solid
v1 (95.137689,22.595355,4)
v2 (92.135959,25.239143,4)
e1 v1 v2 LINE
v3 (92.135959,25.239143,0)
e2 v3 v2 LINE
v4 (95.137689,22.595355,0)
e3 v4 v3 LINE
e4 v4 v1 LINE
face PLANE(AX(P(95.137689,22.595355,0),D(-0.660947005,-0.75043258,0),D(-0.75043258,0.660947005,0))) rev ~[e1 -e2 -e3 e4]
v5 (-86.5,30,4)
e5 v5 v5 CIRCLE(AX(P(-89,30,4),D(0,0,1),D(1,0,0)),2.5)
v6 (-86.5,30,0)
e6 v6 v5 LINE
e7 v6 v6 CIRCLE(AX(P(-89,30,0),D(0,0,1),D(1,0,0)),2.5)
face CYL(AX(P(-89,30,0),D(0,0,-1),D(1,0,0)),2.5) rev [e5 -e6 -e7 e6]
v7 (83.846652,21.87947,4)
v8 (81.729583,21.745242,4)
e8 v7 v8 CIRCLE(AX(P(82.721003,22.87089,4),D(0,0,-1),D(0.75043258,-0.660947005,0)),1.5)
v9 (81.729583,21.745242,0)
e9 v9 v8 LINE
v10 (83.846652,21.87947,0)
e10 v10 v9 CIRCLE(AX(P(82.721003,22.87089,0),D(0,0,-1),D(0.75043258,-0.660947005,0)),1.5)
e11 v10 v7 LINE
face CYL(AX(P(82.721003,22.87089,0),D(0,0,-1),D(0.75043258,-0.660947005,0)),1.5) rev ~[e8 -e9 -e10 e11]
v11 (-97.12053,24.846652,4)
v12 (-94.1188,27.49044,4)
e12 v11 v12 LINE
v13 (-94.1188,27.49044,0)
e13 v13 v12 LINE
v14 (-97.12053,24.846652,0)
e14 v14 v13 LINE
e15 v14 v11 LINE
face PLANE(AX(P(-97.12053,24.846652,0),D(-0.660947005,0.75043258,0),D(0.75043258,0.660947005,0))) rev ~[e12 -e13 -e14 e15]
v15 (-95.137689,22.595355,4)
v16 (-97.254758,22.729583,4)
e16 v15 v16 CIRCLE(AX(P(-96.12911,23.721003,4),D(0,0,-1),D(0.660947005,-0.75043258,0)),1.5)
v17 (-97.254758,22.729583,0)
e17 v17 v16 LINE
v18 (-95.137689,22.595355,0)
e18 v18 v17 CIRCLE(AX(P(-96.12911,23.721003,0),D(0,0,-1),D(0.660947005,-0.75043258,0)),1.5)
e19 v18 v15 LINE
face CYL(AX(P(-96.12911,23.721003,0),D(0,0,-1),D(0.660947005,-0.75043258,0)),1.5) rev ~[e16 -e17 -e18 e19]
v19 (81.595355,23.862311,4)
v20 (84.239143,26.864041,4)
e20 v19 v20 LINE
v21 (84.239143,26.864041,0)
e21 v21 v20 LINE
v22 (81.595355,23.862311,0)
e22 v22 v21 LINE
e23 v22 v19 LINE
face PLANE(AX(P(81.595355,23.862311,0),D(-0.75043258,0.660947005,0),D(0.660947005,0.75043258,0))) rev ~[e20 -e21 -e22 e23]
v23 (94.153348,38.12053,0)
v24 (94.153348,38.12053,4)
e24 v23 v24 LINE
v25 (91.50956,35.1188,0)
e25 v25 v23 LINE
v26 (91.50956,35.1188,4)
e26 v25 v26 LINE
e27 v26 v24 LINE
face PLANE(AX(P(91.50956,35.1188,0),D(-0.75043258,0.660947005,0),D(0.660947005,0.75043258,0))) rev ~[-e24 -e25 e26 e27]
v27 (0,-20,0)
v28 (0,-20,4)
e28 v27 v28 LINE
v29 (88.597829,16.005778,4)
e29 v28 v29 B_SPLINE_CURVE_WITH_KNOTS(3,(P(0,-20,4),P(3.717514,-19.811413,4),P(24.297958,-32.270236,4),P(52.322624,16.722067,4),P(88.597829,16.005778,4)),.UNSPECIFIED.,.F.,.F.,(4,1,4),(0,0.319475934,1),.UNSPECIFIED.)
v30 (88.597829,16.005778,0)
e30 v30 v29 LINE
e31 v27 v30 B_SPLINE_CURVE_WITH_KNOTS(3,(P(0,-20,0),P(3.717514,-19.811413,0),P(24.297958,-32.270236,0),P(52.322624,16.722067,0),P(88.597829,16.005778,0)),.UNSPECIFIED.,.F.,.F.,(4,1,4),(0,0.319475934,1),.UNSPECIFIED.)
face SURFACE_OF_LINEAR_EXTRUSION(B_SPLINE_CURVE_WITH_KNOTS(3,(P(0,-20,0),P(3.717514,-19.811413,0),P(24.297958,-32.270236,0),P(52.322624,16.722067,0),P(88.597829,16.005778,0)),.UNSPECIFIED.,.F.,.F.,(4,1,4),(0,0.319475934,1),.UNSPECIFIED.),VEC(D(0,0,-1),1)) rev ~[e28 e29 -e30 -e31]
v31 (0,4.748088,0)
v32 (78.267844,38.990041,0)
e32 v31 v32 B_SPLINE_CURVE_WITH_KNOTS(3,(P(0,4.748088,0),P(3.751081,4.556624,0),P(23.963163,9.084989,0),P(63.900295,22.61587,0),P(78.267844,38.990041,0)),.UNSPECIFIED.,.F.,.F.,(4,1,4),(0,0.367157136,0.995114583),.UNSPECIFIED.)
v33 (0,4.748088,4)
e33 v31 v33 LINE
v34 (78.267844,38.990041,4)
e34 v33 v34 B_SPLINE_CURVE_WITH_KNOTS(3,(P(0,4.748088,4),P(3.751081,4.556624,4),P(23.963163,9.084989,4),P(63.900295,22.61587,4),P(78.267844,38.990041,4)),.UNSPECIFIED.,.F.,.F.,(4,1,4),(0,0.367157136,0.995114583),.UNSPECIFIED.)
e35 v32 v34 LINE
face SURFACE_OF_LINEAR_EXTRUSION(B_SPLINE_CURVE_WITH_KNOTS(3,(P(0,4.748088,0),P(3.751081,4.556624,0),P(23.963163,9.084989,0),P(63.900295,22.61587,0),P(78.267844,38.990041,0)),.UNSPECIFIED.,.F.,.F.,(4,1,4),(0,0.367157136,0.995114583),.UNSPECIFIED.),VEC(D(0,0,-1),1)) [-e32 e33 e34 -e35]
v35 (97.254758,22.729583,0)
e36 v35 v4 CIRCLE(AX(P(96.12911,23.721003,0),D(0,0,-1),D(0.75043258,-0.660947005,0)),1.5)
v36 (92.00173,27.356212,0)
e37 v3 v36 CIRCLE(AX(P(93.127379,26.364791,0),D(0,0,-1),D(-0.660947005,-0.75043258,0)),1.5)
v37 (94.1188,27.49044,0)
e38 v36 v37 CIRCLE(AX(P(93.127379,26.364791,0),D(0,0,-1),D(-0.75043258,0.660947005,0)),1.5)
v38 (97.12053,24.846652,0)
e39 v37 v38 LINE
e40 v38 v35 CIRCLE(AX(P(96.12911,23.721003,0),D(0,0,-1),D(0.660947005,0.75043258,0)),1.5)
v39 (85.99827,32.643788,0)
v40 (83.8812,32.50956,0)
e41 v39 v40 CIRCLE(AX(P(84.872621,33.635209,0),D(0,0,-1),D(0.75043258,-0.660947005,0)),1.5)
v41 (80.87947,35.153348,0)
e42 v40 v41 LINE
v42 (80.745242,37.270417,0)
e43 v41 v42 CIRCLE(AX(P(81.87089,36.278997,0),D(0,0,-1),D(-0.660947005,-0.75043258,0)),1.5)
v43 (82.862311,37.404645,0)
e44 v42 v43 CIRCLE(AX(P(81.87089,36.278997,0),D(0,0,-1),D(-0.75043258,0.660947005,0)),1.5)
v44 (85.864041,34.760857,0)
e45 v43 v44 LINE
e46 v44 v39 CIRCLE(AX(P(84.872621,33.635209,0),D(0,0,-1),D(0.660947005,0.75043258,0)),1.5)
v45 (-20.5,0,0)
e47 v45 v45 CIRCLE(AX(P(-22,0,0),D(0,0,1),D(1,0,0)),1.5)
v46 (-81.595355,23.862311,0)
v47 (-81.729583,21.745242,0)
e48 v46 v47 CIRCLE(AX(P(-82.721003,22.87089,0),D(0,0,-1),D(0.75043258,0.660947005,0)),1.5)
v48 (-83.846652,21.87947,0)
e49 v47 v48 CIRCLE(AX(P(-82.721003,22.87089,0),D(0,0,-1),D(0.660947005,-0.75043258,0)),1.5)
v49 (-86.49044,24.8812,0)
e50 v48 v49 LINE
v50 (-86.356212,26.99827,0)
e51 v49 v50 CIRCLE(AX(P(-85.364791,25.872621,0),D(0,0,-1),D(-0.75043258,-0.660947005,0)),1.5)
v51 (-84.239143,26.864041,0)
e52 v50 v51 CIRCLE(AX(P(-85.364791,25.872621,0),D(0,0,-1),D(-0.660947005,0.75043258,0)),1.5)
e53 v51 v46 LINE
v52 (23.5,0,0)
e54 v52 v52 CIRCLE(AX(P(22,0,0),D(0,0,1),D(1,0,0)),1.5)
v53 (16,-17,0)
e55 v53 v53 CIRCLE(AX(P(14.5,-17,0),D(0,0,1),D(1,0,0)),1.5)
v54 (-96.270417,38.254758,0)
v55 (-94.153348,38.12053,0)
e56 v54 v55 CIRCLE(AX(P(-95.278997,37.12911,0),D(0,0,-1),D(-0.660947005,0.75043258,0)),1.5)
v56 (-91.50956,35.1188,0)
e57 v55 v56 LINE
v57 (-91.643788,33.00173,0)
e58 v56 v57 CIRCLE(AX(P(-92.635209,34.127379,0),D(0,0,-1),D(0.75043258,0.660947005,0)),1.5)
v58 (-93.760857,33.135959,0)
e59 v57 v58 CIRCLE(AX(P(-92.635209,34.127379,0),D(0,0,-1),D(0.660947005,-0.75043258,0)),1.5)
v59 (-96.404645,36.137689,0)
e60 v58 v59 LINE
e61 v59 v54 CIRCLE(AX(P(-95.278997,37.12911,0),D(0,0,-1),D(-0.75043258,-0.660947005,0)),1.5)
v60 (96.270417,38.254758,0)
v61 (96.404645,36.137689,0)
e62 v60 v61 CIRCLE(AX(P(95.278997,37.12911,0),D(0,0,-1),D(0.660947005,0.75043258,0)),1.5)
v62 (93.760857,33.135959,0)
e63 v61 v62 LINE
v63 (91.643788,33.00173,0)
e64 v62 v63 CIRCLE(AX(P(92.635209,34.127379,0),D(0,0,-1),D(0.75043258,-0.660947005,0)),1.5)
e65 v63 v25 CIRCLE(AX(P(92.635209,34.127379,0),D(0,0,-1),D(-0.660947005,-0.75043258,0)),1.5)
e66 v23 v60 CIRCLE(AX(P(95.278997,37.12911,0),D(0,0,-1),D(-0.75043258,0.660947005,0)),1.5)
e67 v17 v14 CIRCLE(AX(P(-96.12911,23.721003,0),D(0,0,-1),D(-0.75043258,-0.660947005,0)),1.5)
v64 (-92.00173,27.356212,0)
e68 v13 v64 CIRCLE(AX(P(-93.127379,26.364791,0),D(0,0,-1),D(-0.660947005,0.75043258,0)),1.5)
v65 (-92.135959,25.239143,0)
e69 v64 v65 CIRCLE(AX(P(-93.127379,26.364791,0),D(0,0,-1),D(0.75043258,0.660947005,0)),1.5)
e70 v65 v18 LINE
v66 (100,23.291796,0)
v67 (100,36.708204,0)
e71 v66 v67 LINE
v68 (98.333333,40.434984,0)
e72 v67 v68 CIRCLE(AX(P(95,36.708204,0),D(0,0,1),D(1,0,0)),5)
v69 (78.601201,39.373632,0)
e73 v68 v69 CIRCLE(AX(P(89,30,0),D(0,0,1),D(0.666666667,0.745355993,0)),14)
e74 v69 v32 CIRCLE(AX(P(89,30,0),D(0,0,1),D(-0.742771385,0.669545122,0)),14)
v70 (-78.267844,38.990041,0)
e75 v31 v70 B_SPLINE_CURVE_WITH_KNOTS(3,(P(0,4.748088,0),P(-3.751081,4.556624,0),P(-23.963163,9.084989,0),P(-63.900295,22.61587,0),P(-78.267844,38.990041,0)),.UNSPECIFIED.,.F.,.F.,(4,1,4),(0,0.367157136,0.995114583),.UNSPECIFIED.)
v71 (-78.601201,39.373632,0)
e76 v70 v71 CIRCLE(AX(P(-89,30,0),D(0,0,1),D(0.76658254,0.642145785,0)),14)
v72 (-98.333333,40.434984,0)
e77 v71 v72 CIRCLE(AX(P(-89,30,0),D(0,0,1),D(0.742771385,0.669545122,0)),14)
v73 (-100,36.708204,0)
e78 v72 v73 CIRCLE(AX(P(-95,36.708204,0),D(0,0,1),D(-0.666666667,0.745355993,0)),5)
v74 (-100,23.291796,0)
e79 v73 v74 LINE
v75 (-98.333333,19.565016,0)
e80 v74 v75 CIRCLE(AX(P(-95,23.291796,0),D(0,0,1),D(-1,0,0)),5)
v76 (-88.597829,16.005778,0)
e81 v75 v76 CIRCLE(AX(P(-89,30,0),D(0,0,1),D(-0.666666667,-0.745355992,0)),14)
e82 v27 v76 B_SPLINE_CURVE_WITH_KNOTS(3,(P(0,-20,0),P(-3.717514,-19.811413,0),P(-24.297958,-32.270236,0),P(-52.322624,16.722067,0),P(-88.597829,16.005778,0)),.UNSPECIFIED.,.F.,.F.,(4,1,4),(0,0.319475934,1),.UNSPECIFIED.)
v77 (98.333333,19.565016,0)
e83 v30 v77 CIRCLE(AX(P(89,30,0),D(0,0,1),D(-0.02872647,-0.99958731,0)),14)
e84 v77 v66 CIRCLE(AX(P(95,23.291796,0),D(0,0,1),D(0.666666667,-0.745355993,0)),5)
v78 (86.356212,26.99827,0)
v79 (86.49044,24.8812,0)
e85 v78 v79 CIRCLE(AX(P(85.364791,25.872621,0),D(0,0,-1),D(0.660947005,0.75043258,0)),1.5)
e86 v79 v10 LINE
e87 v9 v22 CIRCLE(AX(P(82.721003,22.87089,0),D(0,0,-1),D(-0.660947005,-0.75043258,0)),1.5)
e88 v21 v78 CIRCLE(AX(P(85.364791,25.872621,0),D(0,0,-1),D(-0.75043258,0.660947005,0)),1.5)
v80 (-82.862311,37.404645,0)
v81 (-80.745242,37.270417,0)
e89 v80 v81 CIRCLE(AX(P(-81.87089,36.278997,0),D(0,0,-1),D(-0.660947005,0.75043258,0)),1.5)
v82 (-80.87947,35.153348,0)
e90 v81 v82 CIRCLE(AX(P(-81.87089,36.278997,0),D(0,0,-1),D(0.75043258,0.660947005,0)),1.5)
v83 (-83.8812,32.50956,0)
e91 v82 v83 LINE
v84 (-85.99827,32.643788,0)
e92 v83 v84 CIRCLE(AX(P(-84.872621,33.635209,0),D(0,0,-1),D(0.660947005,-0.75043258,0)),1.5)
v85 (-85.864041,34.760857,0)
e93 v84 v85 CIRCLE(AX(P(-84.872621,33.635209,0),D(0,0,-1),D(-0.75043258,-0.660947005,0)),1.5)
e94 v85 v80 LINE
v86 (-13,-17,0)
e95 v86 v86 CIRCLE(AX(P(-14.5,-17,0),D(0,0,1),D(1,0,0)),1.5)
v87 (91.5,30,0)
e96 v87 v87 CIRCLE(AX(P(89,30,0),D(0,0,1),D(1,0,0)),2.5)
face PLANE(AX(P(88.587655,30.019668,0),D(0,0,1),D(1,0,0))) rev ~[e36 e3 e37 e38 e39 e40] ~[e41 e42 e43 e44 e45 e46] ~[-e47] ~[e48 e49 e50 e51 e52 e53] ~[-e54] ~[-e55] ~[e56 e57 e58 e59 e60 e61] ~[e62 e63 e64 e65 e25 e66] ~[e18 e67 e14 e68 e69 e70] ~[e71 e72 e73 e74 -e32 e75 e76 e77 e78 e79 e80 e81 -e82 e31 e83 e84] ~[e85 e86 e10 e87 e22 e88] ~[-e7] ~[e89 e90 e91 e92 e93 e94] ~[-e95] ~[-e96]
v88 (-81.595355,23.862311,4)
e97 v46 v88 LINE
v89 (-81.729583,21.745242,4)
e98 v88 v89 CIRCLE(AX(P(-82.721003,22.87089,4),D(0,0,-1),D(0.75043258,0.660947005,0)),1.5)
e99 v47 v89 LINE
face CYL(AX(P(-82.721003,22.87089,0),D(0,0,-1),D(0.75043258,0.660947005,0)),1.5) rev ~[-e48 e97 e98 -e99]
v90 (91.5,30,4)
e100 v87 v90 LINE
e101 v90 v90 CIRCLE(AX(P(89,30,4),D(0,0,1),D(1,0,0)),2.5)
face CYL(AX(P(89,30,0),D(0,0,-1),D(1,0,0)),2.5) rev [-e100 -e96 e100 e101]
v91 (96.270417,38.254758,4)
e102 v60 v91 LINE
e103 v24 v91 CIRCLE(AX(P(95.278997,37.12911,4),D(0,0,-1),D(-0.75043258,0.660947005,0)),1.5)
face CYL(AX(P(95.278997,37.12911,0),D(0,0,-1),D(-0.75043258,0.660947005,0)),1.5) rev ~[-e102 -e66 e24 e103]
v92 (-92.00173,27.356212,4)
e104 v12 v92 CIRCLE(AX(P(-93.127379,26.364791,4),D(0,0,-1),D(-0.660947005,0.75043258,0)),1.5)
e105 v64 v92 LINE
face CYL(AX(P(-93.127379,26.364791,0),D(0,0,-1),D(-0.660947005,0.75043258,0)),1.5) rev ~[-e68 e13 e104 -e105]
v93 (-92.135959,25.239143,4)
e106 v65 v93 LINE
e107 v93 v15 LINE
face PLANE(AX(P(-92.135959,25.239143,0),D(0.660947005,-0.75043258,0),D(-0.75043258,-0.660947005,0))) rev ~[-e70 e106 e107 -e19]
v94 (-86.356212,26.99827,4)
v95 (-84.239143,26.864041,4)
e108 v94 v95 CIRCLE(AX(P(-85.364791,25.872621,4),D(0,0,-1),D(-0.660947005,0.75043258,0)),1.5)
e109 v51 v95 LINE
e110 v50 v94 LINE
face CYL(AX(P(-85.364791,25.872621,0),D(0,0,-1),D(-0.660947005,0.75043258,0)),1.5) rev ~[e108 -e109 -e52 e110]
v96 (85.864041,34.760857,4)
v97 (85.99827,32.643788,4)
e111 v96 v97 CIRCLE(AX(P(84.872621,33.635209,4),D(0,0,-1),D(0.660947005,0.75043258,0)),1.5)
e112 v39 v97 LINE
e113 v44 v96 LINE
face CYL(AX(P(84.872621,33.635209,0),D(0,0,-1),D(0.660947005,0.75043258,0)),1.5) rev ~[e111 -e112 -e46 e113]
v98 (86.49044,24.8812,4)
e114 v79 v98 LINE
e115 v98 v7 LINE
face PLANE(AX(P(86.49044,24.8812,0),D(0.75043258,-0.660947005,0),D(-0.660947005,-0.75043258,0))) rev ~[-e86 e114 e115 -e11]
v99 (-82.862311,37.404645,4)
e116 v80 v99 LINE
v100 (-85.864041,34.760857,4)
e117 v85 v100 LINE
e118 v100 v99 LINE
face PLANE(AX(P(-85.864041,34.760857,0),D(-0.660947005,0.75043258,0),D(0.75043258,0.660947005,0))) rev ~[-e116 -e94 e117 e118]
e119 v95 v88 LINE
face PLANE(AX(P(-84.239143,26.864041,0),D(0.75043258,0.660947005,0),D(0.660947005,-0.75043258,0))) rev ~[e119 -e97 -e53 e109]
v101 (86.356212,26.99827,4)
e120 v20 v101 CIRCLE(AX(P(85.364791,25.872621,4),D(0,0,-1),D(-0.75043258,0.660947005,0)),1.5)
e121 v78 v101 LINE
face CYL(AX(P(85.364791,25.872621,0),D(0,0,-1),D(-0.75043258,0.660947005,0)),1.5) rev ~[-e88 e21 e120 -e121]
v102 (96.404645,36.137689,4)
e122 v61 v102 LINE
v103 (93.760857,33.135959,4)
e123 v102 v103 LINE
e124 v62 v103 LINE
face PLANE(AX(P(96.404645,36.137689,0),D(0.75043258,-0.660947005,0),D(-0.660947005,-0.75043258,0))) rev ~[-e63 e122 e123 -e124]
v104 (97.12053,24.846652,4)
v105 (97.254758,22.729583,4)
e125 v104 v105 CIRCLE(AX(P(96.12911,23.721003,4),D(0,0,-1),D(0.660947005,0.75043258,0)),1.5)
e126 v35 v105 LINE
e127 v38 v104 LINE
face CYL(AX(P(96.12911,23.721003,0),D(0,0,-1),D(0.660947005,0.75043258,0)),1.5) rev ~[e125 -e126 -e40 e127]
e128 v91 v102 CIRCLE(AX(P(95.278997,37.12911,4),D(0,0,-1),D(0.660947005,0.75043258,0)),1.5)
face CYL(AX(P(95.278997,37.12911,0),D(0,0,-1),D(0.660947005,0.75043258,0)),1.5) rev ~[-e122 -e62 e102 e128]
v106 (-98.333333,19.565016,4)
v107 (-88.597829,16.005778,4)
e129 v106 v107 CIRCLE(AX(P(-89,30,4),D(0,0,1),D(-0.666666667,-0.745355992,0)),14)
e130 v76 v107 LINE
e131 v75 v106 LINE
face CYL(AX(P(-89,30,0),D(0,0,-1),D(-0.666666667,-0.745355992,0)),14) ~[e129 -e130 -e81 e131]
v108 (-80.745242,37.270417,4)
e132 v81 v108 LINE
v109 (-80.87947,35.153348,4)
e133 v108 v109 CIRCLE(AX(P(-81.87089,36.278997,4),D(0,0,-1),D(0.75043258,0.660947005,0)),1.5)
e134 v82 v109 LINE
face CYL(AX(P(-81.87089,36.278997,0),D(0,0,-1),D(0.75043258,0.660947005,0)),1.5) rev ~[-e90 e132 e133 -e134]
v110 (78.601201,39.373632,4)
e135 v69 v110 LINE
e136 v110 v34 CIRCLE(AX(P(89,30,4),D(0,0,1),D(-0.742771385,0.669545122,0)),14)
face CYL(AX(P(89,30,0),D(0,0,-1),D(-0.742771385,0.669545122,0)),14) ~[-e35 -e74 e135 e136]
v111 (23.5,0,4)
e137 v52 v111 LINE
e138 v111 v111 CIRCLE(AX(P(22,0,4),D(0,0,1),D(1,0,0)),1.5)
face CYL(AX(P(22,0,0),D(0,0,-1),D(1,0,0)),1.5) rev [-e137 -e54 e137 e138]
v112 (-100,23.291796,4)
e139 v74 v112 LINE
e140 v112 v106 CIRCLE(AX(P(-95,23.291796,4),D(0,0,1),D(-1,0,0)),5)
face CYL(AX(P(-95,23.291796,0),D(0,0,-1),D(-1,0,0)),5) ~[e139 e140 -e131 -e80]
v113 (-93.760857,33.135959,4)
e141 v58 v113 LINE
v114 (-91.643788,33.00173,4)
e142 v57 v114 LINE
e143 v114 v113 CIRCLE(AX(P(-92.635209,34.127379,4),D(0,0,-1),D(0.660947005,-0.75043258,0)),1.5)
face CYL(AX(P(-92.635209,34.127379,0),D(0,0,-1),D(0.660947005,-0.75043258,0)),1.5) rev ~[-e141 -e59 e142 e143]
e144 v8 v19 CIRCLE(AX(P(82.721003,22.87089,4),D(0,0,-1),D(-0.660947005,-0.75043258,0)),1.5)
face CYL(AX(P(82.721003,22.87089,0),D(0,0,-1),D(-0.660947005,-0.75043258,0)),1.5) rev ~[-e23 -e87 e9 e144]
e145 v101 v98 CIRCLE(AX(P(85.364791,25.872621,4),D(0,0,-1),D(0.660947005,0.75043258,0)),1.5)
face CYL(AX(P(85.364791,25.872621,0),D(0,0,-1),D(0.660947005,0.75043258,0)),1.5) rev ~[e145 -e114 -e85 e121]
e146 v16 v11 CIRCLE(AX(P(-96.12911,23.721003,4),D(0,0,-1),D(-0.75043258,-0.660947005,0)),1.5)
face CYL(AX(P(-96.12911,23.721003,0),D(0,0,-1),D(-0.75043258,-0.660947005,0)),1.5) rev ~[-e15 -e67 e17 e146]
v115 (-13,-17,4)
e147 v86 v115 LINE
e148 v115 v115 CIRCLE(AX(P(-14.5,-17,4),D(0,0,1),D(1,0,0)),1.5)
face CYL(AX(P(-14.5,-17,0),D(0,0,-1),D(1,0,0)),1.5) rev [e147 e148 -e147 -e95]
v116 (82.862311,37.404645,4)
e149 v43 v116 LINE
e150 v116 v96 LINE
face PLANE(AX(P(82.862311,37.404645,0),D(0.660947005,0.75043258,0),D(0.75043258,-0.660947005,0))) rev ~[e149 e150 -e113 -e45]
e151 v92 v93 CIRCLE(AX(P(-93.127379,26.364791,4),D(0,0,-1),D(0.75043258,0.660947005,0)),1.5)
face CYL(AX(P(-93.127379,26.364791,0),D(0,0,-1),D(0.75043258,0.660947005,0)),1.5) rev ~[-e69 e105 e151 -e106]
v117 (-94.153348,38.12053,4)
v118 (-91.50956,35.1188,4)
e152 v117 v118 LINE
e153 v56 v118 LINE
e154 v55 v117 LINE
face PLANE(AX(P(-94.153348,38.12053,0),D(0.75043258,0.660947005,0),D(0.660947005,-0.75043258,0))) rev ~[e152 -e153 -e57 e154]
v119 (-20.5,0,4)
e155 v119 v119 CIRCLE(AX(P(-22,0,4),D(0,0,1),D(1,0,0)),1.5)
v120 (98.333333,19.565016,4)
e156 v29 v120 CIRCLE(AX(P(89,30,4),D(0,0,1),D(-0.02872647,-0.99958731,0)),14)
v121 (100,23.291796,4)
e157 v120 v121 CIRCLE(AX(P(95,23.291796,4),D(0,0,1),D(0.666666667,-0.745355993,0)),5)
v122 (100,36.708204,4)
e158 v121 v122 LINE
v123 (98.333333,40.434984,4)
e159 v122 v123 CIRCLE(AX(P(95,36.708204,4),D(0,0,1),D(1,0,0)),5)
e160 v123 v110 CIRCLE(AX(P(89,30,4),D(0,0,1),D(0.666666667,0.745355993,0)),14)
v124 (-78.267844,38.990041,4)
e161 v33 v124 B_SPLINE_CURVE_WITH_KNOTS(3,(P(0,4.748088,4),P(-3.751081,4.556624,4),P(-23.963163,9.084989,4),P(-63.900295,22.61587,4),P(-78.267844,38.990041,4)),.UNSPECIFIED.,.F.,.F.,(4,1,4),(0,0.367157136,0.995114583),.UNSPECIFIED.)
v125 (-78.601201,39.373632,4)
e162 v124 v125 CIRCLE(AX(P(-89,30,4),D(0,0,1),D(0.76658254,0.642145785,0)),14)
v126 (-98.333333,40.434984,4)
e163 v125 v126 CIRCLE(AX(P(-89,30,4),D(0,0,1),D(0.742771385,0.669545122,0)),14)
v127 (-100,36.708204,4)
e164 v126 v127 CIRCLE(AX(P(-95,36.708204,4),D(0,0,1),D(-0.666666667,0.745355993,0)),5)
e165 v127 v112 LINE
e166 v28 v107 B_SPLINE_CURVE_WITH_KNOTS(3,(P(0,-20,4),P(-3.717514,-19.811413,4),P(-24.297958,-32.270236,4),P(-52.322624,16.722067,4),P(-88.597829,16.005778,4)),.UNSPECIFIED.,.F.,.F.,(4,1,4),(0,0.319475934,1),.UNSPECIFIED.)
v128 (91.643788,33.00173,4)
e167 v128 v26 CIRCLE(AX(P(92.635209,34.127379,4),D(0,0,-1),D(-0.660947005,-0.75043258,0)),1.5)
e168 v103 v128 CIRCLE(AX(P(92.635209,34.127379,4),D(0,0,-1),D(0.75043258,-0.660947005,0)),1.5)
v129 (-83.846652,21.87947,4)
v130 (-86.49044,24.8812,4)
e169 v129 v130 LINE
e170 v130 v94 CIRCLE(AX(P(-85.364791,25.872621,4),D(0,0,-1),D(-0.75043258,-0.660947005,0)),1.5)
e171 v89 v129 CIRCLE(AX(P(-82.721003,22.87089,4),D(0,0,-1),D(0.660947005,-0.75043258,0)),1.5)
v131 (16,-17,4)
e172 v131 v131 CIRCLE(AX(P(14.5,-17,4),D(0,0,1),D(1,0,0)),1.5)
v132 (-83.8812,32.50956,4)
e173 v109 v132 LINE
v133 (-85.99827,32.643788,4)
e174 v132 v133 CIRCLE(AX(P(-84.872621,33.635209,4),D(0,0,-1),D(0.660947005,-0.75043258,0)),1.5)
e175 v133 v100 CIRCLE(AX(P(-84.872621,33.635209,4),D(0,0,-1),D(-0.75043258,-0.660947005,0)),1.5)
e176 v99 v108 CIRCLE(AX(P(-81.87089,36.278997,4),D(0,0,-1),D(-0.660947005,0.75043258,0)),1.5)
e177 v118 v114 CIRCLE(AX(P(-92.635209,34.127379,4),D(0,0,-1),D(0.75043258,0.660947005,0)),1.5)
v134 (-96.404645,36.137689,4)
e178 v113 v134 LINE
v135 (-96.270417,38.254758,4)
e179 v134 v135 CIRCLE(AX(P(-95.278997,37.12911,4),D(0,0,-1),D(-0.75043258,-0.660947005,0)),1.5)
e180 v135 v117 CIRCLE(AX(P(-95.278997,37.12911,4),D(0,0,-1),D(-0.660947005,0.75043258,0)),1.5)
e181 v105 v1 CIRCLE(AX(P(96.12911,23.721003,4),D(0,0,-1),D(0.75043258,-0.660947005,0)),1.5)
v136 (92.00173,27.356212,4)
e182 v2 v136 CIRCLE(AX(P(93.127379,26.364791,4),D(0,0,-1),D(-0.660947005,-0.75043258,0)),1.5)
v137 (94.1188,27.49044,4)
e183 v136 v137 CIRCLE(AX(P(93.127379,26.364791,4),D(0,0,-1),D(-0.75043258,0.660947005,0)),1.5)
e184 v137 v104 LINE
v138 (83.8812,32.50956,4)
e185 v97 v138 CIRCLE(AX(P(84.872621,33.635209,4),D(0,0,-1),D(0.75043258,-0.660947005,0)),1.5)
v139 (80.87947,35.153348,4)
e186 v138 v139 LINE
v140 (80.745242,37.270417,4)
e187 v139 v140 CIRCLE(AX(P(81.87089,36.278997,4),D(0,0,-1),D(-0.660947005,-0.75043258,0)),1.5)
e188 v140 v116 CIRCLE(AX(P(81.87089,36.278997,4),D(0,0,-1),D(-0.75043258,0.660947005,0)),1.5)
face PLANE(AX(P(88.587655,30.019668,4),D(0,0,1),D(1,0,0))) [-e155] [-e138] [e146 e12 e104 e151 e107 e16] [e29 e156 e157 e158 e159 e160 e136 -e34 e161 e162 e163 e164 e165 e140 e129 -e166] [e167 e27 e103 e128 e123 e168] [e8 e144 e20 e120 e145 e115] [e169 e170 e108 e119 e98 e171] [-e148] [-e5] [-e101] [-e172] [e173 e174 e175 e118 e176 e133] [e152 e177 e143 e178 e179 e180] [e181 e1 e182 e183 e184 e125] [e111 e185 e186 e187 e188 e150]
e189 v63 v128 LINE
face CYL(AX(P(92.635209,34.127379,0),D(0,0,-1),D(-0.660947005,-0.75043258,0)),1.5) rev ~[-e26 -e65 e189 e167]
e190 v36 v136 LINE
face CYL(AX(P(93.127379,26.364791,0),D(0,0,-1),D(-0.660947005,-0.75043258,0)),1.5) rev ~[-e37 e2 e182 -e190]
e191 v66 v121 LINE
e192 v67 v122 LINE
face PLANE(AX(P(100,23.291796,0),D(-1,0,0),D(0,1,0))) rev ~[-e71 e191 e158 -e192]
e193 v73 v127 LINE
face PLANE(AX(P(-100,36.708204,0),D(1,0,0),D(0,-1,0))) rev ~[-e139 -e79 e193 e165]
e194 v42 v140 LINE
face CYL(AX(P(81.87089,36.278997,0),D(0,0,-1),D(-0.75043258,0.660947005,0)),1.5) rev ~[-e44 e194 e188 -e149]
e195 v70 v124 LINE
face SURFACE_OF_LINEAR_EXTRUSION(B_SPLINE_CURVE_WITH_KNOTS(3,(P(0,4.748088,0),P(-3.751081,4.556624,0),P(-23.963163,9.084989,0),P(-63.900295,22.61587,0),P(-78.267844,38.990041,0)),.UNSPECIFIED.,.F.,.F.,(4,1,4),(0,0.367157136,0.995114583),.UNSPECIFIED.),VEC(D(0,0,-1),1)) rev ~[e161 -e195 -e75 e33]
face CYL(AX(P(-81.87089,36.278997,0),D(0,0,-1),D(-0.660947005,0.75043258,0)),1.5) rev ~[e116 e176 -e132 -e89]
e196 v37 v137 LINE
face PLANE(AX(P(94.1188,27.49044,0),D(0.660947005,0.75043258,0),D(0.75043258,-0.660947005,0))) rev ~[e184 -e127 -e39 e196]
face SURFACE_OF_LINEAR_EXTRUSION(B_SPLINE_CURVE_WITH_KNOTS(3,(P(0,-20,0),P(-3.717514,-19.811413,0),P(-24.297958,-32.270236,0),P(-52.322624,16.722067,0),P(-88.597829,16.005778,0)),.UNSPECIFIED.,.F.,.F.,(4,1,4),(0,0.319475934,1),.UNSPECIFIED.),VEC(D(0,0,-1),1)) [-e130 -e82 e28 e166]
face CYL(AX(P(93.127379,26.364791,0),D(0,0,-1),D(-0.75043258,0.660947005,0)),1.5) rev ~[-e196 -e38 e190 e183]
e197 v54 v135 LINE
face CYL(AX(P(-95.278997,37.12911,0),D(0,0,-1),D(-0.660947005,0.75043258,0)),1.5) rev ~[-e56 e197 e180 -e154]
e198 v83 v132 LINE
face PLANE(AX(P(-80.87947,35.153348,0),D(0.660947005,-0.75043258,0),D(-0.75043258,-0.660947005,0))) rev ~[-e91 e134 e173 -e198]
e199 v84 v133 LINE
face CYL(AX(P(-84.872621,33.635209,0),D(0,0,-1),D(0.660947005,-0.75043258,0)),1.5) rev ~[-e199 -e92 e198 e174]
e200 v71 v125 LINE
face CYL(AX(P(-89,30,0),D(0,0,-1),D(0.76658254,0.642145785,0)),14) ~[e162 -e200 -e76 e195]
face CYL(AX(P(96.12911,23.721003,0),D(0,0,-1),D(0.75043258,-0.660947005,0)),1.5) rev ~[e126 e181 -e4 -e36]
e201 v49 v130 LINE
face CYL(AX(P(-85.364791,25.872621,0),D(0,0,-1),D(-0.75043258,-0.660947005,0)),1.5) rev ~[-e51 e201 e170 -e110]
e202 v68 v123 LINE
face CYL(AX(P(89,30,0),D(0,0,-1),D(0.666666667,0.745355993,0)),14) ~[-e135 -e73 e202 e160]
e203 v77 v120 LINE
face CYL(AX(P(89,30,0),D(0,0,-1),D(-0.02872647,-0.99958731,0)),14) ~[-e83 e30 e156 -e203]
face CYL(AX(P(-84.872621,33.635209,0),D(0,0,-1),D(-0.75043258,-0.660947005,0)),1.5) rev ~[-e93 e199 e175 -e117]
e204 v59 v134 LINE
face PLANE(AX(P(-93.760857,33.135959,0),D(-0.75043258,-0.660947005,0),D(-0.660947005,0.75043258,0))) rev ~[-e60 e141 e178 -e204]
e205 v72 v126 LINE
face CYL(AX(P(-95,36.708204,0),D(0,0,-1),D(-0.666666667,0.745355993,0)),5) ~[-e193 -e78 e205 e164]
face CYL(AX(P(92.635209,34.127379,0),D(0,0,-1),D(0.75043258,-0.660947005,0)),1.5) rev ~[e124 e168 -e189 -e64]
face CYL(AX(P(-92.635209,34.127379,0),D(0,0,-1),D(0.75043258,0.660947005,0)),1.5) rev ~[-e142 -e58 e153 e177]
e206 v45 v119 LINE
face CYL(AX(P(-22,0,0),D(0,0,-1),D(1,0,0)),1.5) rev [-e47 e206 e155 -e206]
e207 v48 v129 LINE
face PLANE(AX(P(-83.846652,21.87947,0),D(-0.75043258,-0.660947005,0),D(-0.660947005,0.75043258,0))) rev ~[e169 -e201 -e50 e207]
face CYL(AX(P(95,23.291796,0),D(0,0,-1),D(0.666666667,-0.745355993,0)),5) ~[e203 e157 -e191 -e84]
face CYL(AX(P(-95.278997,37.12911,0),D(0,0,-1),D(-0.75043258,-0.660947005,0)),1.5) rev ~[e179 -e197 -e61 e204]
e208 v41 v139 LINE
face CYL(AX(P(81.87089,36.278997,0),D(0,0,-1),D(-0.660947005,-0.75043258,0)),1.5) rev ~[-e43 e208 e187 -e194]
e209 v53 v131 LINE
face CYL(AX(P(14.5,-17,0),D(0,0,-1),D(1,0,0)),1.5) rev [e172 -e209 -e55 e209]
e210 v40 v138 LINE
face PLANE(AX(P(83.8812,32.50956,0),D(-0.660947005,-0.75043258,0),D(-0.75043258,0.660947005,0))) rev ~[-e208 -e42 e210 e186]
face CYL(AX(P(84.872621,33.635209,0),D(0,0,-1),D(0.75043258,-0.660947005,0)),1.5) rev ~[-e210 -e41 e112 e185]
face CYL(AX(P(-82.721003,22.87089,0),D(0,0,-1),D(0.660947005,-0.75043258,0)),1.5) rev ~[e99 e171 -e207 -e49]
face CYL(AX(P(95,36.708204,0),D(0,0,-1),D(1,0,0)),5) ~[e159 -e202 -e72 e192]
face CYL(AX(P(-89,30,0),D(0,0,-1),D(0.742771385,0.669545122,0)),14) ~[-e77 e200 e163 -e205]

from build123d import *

# Parameters (mm, degrees)
F0_R     = 2.5
F0_R_2   = 1.5
F1_DEPTH = 4


with BuildPart() as f1:
    # F0 (on Top) → F1 (new body)
    with BuildSketch(Plane.XY):
        with BuildLine():
            ThreePointArc((100, 36.7082039325), (99.5643546459, 38.7494453848), (98.3333333333, 40.434983895))
            ThreePointArc((98.3333333333, 40.434983895), (88.2480547914, 43.9797917868), (78.6012006129, 39.3736317032))
            add(Edge.make_bspline(
                [(78.2678444341, 38.9900409849), (78.3796218574, 39.1174296296), (78.4907435172, 39.2452925352), (78.6012006129, 39.3736317032)],
                knots=[0.9951145834, 0.9951145834, 0.9951145834, 0.9951145834, 1, 1, 1, 1], degree=3))
            ThreePointArc((78.2678444341, 38.9900409849), (76.230411331, 24.2608706912), (88.5978294237, 16.0057776626))
            ThreePointArc((88.5978294237, 16.0057776626), (93.807126129, 16.8511773006), (98.3333333333, 19.565016105))
            ThreePointArc((98.3333333333, 19.565016105), (99.5643546459, 21.2505546152), (100, 23.2917960675))
            Line((100, 23.2917960675), (100, 36.7082039325))
        make_face()
        with BuildLine():
            Line((86.490440342, 24.8812003045), (83.846652322, 21.8794699859))
            ThreePointArc((83.846652322, 21.8794699859), (82.8159172375, 21.3738963808), (81.729582945, 21.745241624))
            ThreePointArc((81.729582945, 21.745241624), (81.2240093398, 22.7759767085), (81.595354583, 23.8623110009))
            Line((81.595354583, 23.8623110009), (84.239142603, 26.8640413195))
            ThreePointArc((84.239142603, 26.8640413195), (85.2698776875, 27.3696149247), (86.35621198, 26.9982696815))
            ThreePointArc((86.35621198, 26.9982696815), (86.8617855852, 25.967534597), (86.490440342, 24.8812003045))
        make_face(mode=Mode.SUBTRACT)
        with BuildLine():
            Line((94.1187996955, 27.490440342), (97.1205300141, 24.846652322))
            ThreePointArc((97.1205300141, 24.846652322), (97.6261036192, 23.8159172375), (97.254758376, 22.729582945))
            ThreePointArc((97.254758376, 22.729582945), (96.2240232915, 22.2240093398), (95.1376889991, 22.595354583))
            Line((95.1376889991, 22.595354583), (92.1359586805, 25.239142603))
            ThreePointArc((92.1359586805, 25.239142603), (91.6303850753, 26.2698776875), (92.0017303185, 27.35621198))
            ThreePointArc((92.0017303185, 27.35621198), (93.032465403, 27.8617855852), (94.1187996955, 27.490440342))
        make_face(mode=Mode.SUBTRACT)
        with Locations((89, 30)):
            Circle(F0_R, mode=Mode.SUBTRACT)
        with BuildLine():
            Line((83.8812003045, 32.509559658), (80.8794699859, 35.153347678))
            ThreePointArc((80.8794699859, 35.153347678), (80.3738963808, 36.1840827625), (80.745241624, 37.270417055))
            ThreePointArc((80.745241624, 37.270417055), (81.7759767085, 37.7759906602), (82.8623110009, 37.404645417))
            Line((82.8623110009, 37.404645417), (85.8640413195, 34.760857397))
            ThreePointArc((85.8640413195, 34.760857397), (86.3696149247, 33.7301223125), (85.9982696815, 32.64378802))
            ThreePointArc((85.9982696815, 32.64378802), (84.967534597, 32.1382144148), (83.8812003045, 32.509559658))
        make_face(mode=Mode.SUBTRACT)
        with BuildLine():
            Line((91.509559658, 35.1187996955), (94.153347678, 38.1205300141))
            ThreePointArc((94.153347678, 38.1205300141), (95.1840827625, 38.6261036192), (96.270417055, 38.254758376))
            ThreePointArc((96.270417055, 38.254758376), (96.7759906602, 37.2240232915), (96.404645417, 36.1376889991))
            Line((96.404645417, 36.1376889991), (93.760857397, 33.1359586805))
            ThreePointArc((93.760857397, 33.1359586805), (92.7301223125, 32.6303850753), (91.64378802, 33.0017303185))
            ThreePointArc((91.64378802, 33.0017303185), (91.1382144148, 34.032465403), (91.509559658, 35.1187996955))
        make_face(mode=Mode.SUBTRACT)
        with BuildLine():
            add(Edge.make_bspline(
                [(78.2678444341, 38.9900409849), (78.3796218574, 39.1174296296), (78.4907435172, 39.2452925352), (78.6012006129, 39.3736317032)],
                knots=[0.9951145834, 0.9951145834, 0.9951145834, 0.9951145834, 1, 1, 1, 1], degree=3))
            ThreePointArc((78.6012006129, 39.3736317032), (78.4327818341, 39.1833490751), (78.2678444341, 38.9900409849))
        make_face()
        with BuildLine():
            ThreePointArc((88.5978294237, 16.0057776626), (76.230411331, 24.2608706912), (78.2678444341, 38.9900409849))
            add(Edge.make_bspline(
                [(0, 4.748087842), (3.7510812941, 4.556623698), (23.9631634822, 9.0849893596), (63.9002947469, 22.6158696289), (78.2678444341, 38.9900409849)],
                knots=[0, 0, 0, 0, 0.3671571365, 0.9951145834, 0.9951145834, 0.9951145834, 0.9951145834], degree=3))
            add(Edge.make_bspline(
                [(0, 4.748087842), (-3.7510812941, 4.556623698), (-23.9631634822, 9.0849893596), (-63.9002947469, 22.6158696289), (-78.2678444341, 38.9900409849)],
                knots=[0, 0, 0, 0, 0.3671571365, 0.9951145834, 0.9951145834, 0.9951145834, 0.9951145834], degree=3))
            ThreePointArc((-78.2678444341, 38.9900409849), (-76.230411331, 24.2608706912), (-88.5978294237, 16.0057776626))
            add(Edge.make_bspline(
                [(0, -20), (-3.7175141039, -19.8114133897), (-24.2979575574, -32.2702358468), (-52.3226244724, 16.7220671125), (-88.5978294237, 16.0057776626)],
                knots=[0, 0, 0, 0, 0.3194759338, 1, 1, 1, 1], degree=3))
            add(Edge.make_bspline(
                [(0, -20), (3.7175141039, -19.8114133897), (24.2979575574, -32.2702358468), (52.3226244724, 16.7220671125), (88.5978294237, 16.0057776626)],
                knots=[0, 0, 0, 0, 0.3194759338, 1, 1, 1, 1], degree=3))
        make_face()
        with Locations((-14.5, -17)):
            Circle(F0_R_2, mode=Mode.SUBTRACT)
        with Locations((-22, 0)):
            Circle(F0_R_2, mode=Mode.SUBTRACT)
        with Locations((14.5, -17)):
            Circle(F0_R_2, mode=Mode.SUBTRACT)
        with Locations((22, 0)):
            Circle(F0_R_2, mode=Mode.SUBTRACT)
        with BuildLine():
            add(Edge.make_bspline(
                [(-78.2678444341, 38.9900409849), (-78.3796218574, 39.1174296296), (-78.4907435172, 39.2452925352), (-78.6012006129, 39.3736317032)],
                knots=[0.9951145834, 0.9951145834, 0.9951145834, 0.9951145834, 1, 1, 1, 1], degree=3))
            ThreePointArc((-78.2678444341, 38.9900409849), (-78.4327818341, 39.1833490751), (-78.6012006129, 39.3736317032))
        make_face()
        with BuildLine():
            ThreePointArc((-88.5978294237, 16.0057776626), (-76.230411331, 24.2608706912), (-78.2678444341, 38.9900409849))
            add(Edge.make_bspline(
                [(-78.2678444341, 38.9900409849), (-78.3796218574, 39.1174296296), (-78.4907435172, 39.2452925352), (-78.6012006129, 39.3736317032)],
                knots=[0.9951145834, 0.9951145834, 0.9951145834, 0.9951145834, 1, 1, 1, 1], degree=3))
            ThreePointArc((-78.6012006129, 39.3736317032), (-88.2480547914, 43.9797917868), (-98.3333333333, 40.434983895))
            ThreePointArc((-98.3333333333, 40.434983895), (-99.5643546459, 38.7494453848), (-100, 36.7082039325))
            Line((-100, 36.7082039325), (-100, 23.2917960675))
            ThreePointArc((-100, 23.2917960675), (-99.5643546459, 21.2505546152), (-98.3333333333, 19.565016105))
            ThreePointArc((-98.3333333333, 19.565016105), (-93.807126129, 16.8511773006), (-88.5978294237, 16.0057776626))
        make_face()
        with BuildLine():
            ThreePointArc((-81.729582945, 21.745241624), (-82.8159172375, 21.3738963808), (-83.846652322, 21.8794699859))
            Line((-83.846652322, 21.8794699859), (-86.490440342, 24.8812003045))
            ThreePointArc((-86.490440342, 24.8812003045), (-86.8617855852, 25.967534597), (-86.35621198, 26.9982696815))
            ThreePointArc((-86.35621198, 26.9982696815), (-85.2698776875, 27.3696149247), (-84.239142603, 26.8640413195))
            Line((-84.239142603, 26.8640413195), (-81.595354583, 23.8623110009))
            ThreePointArc((-81.595354583, 23.8623110009), (-81.2240093398, 22.7759767085), (-81.729582945, 21.745241624))
        make_face(mode=Mode.SUBTRACT)
        with BuildLine():
            Line((-92.1359586805, 25.239142603), (-95.1376889991, 22.595354583))
            ThreePointArc((-95.1376889991, 22.595354583), (-96.2240232915, 22.2240093398), (-97.254758376, 22.729582945))
            ThreePointArc((-97.254758376, 22.729582945), (-97.6261036192, 23.8159172375), (-97.1205300141, 24.846652322))
            Line((-97.1205300141, 24.846652322), (-94.1187996955, 27.490440342))
            ThreePointArc((-94.1187996955, 27.490440342), (-93.032465403, 27.8617855852), (-92.0017303185, 27.35621198))
            ThreePointArc((-92.0017303185, 27.35621198), (-91.6303850753, 26.2698776875), (-92.1359586805, 25.239142603))
        make_face(mode=Mode.SUBTRACT)
        with Locations((-89, 30)):
            Circle(F0_R, mode=Mode.SUBTRACT)
        with BuildLine():
            Line((-93.760857397, 33.1359586805), (-96.404645417, 36.1376889991))
            ThreePointArc((-96.404645417, 36.1376889991), (-96.7759906602, 37.2240232915), (-96.270417055, 38.254758376))
            ThreePointArc((-96.270417055, 38.254758376), (-95.1840827625, 38.6261036192), (-94.153347678, 38.1205300141))
            Line((-94.153347678, 38.1205300141), (-91.509559658, 35.1187996955))
            ThreePointArc((-91.509559658, 35.1187996955), (-91.1382144148, 34.032465403), (-91.64378802, 33.0017303185))
            ThreePointArc((-91.64378802, 33.0017303185), (-92.7301223125, 32.6303850753), (-93.760857397, 33.1359586805))
        make_face(mode=Mode.SUBTRACT)
        with BuildLine():
            ThreePointArc((-80.745241624, 37.270417055), (-80.3738963808, 36.1840827625), (-80.8794699859, 35.153347678))
            Line((-80.8794699859, 35.153347678), (-83.8812003045, 32.509559658))
            ThreePointArc((-83.8812003045, 32.509559658), (-84.967534597, 32.1382144148), (-85.9982696815, 32.64378802))
            ThreePointArc((-85.9982696815, 32.64378802), (-86.3696149247, 33.7301223125), (-85.8640413195, 34.760857397))
            Line((-85.8640413195, 34.760857397), (-82.8623110009, 37.404645417))
            ThreePointArc((-82.8623110009, 37.404645417), (-81.7759767085, 37.7759906602), (-80.745241624, 37.270417055))
        make_face(mode=Mode.SUBTRACT)
    extrude(amount=F1_DEPTH)


solid = f1.part
